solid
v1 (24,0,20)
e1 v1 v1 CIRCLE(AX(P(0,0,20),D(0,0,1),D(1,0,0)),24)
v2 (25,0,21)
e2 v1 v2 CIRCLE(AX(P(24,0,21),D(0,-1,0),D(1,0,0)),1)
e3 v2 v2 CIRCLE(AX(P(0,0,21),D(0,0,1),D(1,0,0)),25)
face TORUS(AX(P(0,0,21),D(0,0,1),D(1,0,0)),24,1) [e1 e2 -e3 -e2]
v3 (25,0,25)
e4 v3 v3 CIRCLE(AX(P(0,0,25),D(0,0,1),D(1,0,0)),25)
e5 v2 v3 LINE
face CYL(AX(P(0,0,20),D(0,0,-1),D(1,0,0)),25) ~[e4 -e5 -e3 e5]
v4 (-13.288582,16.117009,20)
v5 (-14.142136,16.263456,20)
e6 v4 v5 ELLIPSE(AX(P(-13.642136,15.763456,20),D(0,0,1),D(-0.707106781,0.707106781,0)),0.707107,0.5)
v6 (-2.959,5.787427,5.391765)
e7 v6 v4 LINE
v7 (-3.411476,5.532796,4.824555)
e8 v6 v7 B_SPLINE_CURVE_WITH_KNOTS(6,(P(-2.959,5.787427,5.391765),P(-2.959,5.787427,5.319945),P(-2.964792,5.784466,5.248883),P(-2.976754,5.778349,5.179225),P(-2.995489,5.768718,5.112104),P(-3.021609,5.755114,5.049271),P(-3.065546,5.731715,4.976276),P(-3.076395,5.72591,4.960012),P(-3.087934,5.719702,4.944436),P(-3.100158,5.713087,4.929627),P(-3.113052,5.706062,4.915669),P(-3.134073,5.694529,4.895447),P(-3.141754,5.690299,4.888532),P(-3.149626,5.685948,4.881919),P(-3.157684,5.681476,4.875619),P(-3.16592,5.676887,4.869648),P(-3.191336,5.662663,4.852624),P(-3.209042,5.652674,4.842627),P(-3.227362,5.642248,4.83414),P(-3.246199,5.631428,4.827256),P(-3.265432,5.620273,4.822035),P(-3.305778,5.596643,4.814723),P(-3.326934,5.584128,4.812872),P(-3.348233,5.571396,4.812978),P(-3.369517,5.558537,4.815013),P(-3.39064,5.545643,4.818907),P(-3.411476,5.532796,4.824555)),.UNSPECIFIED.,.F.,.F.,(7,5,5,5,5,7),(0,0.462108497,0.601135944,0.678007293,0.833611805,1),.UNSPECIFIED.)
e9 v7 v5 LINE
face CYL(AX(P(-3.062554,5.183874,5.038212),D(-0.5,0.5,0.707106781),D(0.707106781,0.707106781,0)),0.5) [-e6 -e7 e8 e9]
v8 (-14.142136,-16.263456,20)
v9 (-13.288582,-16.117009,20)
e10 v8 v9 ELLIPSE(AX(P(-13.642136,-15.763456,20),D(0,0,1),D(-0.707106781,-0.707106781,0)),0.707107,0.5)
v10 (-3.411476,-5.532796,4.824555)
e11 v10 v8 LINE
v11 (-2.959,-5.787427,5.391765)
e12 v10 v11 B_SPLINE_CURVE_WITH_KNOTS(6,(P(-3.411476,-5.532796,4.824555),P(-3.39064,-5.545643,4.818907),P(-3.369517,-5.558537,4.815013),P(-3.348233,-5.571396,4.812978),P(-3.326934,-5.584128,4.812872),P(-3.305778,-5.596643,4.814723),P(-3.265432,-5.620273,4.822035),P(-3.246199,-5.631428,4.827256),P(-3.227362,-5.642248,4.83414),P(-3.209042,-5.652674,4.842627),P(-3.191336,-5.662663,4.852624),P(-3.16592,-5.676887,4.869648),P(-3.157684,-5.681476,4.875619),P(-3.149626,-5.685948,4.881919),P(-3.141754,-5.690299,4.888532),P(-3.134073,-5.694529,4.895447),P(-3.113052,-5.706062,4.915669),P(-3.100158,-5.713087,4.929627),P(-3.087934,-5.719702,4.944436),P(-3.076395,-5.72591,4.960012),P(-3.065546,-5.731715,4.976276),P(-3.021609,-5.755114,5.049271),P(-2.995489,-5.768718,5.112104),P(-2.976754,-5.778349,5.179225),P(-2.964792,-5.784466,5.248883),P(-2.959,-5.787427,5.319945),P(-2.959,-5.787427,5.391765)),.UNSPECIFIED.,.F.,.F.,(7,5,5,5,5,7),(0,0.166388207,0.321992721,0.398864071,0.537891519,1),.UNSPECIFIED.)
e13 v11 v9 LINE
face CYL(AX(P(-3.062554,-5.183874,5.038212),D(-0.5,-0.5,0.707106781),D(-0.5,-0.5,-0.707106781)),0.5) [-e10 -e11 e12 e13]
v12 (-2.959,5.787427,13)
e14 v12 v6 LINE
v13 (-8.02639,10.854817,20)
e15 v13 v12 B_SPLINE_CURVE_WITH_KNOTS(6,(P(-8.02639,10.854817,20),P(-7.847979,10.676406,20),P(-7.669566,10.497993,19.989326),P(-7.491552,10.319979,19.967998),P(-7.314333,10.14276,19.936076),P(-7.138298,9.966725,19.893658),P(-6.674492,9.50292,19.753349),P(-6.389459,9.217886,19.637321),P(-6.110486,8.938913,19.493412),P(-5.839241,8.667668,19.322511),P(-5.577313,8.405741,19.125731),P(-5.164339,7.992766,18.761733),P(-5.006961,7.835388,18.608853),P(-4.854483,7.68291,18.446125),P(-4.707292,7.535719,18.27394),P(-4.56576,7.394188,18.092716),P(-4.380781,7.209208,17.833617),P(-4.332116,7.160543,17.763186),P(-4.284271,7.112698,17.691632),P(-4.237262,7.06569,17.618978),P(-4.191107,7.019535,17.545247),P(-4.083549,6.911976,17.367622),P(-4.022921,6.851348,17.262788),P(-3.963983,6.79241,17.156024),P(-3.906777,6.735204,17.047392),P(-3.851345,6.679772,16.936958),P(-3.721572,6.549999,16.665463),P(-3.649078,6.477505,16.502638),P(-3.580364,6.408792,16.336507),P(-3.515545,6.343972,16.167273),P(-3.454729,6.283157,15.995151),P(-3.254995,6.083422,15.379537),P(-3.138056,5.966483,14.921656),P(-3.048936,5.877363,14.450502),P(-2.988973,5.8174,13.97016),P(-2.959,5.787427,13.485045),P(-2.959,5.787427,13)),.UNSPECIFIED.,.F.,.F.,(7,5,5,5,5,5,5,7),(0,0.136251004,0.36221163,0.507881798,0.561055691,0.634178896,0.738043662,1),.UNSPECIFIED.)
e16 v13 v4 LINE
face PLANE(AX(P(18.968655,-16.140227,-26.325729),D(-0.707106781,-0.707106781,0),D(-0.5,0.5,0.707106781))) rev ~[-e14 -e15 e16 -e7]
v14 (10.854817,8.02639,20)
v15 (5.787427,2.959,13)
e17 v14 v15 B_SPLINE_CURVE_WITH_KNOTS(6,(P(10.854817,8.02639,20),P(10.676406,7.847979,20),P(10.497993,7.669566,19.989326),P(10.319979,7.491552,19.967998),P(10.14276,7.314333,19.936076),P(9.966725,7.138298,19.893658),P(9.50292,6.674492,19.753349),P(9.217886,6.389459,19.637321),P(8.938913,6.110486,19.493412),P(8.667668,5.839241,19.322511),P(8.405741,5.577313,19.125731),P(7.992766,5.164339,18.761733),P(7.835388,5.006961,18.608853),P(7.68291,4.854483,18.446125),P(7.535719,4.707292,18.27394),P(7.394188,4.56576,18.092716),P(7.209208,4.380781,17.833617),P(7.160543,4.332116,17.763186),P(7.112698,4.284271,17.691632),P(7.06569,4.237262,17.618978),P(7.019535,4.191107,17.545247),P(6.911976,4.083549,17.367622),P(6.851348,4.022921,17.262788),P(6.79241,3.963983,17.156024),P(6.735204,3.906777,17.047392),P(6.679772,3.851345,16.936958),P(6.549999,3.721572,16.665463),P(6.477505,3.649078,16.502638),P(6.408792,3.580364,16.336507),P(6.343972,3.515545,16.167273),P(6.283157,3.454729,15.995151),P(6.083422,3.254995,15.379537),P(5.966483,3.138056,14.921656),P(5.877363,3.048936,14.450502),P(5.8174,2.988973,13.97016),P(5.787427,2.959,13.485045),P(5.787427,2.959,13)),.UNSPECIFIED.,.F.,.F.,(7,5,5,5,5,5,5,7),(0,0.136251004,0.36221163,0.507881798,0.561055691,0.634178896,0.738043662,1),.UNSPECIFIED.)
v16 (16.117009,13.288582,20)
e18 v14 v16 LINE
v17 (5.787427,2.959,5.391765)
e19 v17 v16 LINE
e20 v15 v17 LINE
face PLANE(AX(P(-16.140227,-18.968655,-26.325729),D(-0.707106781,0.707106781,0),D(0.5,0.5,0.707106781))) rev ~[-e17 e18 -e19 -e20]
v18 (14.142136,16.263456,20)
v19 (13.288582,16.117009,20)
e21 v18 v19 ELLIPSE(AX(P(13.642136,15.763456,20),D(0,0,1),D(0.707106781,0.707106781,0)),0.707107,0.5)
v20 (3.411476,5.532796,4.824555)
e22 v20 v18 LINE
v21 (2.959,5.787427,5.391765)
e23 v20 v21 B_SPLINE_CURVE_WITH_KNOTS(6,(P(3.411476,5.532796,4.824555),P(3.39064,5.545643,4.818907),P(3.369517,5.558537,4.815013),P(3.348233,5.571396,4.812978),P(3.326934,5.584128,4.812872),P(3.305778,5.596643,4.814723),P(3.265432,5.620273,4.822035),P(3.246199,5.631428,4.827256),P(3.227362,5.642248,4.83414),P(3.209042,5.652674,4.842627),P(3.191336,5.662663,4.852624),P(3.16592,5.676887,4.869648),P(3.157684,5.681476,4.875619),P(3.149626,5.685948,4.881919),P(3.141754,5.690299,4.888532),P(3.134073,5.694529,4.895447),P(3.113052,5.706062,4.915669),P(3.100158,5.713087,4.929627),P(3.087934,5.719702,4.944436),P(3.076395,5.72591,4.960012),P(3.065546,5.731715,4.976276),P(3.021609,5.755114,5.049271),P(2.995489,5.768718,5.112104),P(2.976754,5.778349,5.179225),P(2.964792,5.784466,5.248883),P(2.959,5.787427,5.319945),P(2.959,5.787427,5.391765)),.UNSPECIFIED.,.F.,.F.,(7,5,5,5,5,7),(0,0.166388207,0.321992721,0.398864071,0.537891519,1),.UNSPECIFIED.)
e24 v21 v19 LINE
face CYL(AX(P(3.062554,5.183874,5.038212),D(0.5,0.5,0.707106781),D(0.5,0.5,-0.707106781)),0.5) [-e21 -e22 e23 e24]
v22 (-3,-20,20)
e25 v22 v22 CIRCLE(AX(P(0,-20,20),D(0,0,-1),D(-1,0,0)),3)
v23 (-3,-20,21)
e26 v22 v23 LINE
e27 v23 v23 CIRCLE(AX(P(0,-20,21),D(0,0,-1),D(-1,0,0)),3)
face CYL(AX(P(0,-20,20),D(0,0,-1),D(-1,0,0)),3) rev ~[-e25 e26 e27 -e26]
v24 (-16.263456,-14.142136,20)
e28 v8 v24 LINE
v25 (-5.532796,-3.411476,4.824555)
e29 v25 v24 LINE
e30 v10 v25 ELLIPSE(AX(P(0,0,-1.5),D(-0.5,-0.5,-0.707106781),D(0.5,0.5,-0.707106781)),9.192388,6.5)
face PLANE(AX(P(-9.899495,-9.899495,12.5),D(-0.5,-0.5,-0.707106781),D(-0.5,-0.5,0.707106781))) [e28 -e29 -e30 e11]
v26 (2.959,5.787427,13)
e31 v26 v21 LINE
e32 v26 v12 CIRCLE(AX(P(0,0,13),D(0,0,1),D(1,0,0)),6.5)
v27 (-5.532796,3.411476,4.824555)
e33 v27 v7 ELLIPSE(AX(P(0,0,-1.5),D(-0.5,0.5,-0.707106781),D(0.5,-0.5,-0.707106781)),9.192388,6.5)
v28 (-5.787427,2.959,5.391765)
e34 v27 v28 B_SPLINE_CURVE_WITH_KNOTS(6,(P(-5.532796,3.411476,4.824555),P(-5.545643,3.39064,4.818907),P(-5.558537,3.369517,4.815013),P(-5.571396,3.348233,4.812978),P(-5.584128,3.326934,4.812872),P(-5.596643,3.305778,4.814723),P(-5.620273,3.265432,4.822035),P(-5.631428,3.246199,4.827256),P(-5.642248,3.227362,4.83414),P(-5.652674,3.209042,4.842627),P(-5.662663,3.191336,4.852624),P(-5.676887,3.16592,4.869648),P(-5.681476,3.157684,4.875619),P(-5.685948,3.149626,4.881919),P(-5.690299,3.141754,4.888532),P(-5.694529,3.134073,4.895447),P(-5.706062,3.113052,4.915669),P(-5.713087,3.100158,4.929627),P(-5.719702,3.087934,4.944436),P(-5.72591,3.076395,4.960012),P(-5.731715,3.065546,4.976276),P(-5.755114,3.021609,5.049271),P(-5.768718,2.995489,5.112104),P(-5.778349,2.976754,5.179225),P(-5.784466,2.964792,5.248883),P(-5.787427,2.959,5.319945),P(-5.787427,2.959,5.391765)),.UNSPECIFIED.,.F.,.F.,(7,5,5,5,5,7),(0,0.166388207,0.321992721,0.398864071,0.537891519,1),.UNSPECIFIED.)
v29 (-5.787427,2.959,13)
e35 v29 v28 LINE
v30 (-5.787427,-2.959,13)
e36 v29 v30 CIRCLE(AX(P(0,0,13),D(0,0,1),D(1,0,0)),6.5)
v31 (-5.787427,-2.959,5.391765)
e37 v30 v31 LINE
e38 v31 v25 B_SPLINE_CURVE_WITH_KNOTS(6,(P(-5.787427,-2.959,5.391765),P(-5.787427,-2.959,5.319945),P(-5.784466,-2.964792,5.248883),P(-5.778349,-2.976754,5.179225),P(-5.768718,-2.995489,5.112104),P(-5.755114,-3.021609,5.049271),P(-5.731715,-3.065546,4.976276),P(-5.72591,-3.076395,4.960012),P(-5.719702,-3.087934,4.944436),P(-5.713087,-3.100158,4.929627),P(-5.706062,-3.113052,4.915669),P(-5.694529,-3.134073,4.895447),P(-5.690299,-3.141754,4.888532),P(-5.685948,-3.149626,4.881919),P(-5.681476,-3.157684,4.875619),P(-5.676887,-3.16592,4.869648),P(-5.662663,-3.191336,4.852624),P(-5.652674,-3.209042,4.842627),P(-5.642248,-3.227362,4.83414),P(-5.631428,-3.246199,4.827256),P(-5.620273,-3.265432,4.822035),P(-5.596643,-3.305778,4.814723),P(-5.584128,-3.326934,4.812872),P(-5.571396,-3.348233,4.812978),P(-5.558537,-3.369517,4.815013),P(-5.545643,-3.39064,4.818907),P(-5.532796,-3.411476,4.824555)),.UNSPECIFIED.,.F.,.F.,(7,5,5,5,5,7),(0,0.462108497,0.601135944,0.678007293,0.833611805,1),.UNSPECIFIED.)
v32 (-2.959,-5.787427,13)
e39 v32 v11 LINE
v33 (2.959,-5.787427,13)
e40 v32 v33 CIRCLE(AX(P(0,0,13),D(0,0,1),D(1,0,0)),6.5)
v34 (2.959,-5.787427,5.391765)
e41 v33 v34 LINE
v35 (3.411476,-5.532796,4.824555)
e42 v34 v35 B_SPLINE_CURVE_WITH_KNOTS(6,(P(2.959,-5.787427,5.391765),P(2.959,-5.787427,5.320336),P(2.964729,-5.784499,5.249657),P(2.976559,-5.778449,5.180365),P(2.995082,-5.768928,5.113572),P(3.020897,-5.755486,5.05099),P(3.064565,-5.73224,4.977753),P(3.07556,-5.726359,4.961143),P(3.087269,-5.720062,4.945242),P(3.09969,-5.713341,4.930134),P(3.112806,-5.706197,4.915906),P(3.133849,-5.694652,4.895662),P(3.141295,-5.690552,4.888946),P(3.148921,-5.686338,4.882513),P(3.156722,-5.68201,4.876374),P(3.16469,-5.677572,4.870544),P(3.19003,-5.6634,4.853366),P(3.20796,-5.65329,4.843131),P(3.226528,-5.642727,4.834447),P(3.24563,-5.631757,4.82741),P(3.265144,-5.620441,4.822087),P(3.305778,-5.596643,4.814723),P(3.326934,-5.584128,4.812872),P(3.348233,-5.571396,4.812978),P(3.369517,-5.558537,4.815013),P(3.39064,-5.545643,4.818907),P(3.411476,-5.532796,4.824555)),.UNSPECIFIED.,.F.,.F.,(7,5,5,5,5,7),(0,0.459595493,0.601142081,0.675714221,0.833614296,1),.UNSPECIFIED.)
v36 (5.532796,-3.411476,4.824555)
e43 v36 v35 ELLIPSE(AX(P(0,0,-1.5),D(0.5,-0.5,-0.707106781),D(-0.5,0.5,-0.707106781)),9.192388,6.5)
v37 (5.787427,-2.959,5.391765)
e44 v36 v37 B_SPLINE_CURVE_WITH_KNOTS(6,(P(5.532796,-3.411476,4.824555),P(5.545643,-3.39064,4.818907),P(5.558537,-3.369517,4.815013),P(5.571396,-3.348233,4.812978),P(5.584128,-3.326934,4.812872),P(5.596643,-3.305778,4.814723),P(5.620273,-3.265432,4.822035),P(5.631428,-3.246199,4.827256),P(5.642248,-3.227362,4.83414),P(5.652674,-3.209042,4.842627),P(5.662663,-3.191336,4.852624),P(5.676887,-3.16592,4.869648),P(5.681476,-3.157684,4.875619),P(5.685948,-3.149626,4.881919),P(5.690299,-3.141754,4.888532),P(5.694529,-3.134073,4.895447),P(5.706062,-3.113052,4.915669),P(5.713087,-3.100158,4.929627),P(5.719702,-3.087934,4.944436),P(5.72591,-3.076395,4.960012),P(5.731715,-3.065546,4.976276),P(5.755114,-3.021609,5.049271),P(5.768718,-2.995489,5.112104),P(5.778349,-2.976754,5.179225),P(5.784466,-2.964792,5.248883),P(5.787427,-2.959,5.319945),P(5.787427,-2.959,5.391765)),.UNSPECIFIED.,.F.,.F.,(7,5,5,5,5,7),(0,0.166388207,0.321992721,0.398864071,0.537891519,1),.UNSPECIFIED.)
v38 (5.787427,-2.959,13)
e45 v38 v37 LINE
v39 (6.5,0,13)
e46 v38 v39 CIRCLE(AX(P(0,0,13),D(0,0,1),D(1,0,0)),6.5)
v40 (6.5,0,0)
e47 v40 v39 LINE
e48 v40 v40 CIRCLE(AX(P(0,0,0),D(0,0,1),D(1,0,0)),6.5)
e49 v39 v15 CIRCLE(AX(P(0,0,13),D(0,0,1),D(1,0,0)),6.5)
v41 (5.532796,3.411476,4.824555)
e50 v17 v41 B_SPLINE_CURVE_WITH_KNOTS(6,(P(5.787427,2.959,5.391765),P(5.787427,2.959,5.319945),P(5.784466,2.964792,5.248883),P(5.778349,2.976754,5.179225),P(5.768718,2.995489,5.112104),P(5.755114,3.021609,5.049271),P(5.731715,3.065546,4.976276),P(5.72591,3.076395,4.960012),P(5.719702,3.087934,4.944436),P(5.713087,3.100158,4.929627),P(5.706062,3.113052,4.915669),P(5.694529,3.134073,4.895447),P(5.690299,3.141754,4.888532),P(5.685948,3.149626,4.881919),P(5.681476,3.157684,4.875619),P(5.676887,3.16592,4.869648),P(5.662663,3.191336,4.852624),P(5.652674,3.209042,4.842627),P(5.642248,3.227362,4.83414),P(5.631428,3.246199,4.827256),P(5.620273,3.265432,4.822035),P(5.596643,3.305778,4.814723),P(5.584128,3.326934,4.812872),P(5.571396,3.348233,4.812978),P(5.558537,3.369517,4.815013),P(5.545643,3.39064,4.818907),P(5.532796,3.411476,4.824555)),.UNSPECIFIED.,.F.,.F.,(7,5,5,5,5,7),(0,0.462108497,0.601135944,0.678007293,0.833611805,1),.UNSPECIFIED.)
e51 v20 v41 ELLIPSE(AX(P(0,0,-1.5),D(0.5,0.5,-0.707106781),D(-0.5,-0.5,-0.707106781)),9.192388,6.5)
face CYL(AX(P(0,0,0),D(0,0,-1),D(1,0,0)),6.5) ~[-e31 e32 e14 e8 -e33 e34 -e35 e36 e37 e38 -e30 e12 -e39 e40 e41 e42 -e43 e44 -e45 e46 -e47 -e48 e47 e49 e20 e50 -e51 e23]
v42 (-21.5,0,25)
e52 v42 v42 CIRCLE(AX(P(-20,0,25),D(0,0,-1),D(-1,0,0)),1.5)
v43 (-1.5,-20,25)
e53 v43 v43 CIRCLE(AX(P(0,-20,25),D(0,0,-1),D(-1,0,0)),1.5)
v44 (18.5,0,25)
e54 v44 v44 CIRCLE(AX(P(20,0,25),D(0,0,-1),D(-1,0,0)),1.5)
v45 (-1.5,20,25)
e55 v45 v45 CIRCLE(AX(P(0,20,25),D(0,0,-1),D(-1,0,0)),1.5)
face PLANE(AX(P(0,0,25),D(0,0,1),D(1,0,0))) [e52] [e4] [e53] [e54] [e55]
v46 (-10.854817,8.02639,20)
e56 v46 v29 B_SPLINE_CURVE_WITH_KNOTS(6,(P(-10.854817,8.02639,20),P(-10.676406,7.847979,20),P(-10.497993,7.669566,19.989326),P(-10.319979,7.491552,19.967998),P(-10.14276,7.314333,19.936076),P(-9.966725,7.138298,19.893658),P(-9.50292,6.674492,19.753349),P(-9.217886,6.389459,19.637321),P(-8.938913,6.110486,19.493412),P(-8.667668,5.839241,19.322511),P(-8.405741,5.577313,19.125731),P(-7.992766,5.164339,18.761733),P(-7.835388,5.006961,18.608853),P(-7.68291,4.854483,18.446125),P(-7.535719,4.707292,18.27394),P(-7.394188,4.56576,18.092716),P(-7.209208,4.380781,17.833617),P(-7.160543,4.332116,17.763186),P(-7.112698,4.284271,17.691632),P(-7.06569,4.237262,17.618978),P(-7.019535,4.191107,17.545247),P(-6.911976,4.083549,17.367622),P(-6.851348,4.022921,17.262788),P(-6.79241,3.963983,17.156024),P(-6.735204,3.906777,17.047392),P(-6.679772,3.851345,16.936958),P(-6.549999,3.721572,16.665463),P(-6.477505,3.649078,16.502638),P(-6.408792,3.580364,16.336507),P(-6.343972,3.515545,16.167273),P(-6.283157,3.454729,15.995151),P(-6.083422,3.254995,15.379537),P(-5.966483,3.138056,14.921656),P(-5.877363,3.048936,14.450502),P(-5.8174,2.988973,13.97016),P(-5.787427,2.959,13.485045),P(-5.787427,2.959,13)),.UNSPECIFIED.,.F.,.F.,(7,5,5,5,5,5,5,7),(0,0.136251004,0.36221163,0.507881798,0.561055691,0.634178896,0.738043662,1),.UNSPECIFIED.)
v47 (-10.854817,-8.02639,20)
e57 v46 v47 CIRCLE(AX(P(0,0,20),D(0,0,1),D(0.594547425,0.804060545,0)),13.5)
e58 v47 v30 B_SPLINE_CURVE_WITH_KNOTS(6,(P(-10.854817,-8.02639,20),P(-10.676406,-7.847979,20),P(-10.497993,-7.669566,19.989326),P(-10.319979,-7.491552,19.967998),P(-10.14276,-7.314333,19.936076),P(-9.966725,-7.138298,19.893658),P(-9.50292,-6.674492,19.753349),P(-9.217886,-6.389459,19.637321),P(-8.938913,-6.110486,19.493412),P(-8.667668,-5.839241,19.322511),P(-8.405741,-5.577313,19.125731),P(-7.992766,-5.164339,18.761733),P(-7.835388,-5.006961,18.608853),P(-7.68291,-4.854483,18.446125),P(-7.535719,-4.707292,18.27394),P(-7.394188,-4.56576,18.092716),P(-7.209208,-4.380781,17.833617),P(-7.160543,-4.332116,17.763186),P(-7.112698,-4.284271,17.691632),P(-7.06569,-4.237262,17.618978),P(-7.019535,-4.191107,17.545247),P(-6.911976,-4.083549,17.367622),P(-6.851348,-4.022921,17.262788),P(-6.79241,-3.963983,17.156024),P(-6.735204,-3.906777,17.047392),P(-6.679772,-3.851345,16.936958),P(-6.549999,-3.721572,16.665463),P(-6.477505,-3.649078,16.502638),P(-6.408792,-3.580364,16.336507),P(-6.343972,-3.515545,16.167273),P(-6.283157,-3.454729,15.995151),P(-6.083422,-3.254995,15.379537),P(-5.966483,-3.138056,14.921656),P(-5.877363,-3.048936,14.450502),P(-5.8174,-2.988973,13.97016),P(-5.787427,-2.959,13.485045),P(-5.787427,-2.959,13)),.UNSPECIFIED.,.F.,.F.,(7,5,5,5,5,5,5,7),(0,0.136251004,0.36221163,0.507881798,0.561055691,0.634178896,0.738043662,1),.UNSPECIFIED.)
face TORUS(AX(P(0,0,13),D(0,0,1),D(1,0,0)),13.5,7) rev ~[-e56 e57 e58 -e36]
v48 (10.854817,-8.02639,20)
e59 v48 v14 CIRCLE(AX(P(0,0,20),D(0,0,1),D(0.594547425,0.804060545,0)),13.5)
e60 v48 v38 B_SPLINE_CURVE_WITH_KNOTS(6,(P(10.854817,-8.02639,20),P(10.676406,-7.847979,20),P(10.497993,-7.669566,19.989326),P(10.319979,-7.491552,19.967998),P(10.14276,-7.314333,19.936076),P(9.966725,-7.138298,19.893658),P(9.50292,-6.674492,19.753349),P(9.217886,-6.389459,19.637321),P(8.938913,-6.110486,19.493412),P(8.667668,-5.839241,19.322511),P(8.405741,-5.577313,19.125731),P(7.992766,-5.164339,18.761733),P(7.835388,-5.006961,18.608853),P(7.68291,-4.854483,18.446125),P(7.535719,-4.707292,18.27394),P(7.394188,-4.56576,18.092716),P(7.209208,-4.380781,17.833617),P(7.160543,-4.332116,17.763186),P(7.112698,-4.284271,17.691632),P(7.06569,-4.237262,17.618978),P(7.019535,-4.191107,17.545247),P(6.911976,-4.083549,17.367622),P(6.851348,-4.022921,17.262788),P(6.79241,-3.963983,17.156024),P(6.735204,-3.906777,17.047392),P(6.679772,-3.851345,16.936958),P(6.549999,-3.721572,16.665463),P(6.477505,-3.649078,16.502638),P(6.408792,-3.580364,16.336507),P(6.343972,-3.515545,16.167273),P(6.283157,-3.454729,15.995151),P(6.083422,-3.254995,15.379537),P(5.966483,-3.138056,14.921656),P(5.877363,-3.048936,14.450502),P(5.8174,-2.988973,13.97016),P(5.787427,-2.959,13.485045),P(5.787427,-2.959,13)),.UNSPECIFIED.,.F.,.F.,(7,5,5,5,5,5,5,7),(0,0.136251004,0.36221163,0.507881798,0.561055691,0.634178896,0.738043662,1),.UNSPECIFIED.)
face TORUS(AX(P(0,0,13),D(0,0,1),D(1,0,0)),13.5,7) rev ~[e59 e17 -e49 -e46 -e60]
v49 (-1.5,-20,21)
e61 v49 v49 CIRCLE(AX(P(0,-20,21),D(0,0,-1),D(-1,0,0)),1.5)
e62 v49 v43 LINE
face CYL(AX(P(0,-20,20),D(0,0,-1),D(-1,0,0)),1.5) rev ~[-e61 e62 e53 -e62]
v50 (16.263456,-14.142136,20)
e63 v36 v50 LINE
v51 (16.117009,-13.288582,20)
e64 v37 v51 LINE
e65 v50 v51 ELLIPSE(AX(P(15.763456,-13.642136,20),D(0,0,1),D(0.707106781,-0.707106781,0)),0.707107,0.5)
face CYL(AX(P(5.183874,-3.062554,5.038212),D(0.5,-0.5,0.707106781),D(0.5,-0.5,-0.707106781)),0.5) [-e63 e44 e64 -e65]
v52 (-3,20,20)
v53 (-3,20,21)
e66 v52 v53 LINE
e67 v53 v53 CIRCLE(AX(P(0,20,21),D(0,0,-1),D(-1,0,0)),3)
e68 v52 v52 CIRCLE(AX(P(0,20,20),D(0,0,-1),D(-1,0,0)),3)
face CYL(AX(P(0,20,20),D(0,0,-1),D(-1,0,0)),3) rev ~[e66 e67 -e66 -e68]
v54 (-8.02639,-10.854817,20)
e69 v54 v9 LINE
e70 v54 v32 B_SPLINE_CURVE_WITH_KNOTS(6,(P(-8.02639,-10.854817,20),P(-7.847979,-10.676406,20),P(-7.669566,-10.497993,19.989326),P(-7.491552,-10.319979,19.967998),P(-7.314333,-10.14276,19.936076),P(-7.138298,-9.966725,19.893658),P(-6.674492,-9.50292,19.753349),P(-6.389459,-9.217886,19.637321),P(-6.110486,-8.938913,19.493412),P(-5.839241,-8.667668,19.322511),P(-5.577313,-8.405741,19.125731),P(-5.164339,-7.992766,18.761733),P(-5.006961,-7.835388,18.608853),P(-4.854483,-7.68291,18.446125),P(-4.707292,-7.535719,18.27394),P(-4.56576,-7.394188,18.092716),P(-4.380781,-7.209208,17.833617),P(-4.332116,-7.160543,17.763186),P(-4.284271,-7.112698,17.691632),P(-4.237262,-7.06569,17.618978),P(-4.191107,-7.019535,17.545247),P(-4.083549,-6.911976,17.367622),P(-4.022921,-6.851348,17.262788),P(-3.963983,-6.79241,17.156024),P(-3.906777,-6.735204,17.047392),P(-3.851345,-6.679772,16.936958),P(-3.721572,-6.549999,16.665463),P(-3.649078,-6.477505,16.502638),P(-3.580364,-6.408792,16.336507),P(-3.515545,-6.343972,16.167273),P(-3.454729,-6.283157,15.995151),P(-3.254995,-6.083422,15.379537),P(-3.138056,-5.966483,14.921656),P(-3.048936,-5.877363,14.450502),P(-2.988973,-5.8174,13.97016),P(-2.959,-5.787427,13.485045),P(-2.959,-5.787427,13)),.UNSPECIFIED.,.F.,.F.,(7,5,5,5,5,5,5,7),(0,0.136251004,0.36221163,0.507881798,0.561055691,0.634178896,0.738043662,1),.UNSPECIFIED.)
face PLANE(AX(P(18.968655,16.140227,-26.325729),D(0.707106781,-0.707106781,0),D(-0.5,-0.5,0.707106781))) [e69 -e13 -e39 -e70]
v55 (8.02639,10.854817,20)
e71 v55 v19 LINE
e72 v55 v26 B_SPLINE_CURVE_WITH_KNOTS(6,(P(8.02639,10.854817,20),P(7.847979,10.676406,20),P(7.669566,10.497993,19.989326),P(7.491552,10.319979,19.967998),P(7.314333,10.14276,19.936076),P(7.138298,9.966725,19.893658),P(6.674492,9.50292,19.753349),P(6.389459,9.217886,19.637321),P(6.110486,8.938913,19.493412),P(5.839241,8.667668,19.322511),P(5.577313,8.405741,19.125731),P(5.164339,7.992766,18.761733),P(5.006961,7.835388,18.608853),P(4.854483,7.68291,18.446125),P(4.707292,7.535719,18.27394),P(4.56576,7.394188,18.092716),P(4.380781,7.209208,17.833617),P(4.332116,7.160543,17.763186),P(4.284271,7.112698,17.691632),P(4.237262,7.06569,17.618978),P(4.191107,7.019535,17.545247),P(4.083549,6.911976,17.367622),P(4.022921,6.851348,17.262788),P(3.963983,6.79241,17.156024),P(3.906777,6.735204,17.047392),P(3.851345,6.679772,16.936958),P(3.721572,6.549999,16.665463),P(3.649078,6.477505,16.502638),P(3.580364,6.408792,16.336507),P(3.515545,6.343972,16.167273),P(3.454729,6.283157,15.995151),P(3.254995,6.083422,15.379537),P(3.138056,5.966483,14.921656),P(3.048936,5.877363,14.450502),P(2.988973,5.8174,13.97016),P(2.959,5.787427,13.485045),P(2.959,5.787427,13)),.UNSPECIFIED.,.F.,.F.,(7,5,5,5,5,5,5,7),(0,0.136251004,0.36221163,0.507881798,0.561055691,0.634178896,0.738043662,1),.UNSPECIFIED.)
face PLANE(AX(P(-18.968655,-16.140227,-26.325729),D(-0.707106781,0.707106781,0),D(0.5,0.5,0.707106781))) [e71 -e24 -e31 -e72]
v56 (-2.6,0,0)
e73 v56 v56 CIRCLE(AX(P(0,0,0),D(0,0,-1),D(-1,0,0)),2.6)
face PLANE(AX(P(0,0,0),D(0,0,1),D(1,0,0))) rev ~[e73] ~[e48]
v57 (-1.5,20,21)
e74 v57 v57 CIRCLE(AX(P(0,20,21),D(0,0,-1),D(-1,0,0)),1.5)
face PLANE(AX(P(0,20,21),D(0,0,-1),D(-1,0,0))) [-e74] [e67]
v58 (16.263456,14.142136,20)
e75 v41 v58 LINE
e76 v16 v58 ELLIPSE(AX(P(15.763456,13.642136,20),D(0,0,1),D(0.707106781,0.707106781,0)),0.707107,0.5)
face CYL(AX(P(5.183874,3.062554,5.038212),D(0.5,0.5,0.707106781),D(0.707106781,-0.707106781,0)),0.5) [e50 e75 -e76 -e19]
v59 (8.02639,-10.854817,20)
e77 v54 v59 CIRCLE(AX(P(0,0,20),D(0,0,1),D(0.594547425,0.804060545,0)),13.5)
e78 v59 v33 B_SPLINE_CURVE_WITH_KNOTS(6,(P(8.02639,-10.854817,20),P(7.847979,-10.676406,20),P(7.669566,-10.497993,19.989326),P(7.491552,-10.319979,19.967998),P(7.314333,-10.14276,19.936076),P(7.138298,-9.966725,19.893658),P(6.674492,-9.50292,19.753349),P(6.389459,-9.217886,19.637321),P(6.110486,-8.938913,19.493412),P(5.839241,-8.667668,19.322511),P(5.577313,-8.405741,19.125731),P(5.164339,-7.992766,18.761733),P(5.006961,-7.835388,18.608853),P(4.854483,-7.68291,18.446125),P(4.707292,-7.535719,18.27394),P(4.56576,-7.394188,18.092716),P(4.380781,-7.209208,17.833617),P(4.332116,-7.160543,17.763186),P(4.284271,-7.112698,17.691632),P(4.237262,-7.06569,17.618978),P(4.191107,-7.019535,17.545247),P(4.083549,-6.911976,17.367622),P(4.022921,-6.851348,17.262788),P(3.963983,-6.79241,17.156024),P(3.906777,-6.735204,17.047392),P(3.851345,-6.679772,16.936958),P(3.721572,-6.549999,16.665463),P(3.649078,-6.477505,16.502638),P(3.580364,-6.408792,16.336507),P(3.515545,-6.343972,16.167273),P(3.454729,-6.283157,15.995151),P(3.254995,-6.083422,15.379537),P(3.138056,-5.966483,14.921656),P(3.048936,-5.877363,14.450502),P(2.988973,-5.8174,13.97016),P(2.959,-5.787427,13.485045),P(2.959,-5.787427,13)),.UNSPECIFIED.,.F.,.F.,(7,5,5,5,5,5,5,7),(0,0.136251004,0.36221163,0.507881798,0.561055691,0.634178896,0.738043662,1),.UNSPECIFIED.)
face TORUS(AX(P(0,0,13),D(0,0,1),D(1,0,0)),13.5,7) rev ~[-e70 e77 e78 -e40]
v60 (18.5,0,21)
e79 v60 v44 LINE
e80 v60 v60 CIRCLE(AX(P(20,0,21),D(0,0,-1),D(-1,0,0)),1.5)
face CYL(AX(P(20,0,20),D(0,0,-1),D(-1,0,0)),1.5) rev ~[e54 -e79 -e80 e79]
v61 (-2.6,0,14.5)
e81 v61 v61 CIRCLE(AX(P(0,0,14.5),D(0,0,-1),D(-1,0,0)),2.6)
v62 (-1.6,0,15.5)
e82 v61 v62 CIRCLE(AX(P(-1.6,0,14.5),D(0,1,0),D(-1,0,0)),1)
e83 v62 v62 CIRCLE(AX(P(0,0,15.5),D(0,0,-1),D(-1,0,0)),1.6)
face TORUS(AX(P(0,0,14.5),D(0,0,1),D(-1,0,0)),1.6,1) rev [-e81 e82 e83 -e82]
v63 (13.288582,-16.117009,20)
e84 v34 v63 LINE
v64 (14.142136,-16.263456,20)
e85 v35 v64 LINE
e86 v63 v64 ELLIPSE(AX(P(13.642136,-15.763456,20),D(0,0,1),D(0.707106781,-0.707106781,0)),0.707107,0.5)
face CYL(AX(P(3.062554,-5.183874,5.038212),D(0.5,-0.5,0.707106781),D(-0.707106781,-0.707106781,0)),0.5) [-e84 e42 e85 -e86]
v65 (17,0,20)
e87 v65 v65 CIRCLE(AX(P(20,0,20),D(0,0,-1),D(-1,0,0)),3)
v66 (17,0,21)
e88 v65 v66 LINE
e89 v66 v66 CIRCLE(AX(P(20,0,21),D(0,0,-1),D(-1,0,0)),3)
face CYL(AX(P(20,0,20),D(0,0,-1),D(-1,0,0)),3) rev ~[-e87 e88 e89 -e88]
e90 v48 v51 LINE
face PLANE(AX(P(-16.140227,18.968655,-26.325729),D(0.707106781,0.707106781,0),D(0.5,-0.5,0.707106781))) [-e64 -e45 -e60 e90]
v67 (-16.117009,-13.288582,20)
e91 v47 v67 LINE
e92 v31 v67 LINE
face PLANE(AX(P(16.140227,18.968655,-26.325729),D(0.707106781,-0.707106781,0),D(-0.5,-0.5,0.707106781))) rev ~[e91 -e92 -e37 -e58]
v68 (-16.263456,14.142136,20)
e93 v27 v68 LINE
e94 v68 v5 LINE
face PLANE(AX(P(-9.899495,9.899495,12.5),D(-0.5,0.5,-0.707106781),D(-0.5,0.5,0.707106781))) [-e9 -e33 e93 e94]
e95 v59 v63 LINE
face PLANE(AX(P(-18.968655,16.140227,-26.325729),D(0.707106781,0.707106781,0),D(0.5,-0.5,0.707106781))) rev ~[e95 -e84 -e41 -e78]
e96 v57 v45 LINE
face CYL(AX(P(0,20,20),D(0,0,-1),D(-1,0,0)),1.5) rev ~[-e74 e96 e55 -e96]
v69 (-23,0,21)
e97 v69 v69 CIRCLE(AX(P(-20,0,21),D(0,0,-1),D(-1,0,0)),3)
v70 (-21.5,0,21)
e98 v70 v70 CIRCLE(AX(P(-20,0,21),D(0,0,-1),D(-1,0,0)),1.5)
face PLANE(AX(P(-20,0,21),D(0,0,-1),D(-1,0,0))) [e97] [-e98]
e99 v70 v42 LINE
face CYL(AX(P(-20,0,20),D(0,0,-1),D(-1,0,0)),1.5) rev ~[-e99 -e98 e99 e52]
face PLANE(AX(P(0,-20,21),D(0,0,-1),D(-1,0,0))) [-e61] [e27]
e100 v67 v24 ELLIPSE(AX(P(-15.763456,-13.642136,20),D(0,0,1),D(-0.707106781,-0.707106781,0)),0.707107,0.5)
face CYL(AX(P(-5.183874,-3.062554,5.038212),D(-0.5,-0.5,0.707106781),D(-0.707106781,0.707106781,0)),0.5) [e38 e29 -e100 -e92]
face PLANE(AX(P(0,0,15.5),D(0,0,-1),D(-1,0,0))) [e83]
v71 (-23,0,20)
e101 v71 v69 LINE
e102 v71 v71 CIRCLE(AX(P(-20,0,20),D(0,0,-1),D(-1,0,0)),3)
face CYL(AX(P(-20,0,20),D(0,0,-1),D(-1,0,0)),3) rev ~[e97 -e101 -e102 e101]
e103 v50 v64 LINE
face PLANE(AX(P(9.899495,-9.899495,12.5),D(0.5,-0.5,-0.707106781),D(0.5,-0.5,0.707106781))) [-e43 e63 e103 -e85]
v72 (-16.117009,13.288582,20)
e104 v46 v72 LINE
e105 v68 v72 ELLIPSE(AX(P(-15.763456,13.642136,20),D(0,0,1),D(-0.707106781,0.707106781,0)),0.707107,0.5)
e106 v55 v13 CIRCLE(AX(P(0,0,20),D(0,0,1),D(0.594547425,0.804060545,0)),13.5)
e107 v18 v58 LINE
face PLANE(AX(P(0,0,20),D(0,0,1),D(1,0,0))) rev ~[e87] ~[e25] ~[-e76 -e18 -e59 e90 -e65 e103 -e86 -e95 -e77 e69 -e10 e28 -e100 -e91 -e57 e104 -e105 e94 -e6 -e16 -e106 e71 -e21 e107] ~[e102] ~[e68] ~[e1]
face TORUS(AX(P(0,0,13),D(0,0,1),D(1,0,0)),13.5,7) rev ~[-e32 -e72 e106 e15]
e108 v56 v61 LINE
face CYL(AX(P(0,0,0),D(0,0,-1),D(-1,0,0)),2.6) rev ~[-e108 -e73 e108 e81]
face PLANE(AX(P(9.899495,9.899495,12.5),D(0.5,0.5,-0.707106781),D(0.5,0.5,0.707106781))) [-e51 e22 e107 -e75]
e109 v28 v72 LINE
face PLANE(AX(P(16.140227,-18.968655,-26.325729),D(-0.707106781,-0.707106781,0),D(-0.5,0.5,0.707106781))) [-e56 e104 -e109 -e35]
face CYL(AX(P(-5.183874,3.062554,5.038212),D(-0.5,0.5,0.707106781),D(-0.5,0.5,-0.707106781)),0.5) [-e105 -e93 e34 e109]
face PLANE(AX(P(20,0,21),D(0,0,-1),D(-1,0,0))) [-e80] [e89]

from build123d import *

# Parameters (mm, degrees)
SKETCH1_R           = 6.5
BOSS_EXTRUDE1_DEPTH = 20
SKETCH4_R           = 2.6
CUT_EXTRUDE1_DEPTH  = 15.5
FILLET1_R           = 1
SKETCH5_R           = 25
BOSS_EXTRUDE2_DEPTH = 5
CUT_EXTRUDE2_REACH  = 42.62
SKETCH6_R           = 1.5
FILLET2_R           = 7
RIB10_REACH         = 45.301
SKETCH12_WALL_W     = 109.815743814
SKETCH12_WALL_H     = 4
CIRPATTERN1_COUNT   = 4
FILLET3_R           = 1
FILLET4_R           = 0.5
SKETCH13_R          = 3
CUT_EXTRUDE3_DEPTH  = 1


with BuildPart() as part:
    # Sketch1 → Boss-Extrude1 (new body)
    with BuildSketch(Plane.XY):
        Circle(SKETCH1_R)
    extrude(amount=BOSS_EXTRUDE1_DEPTH)

    # Sketch4 → Cut-Extrude1 (cut)
    with BuildSketch(Plane(origin=(0, 0, 0), x_dir=(-1, 0, 0), z_dir=(0, 0, -1))):
        Circle(SKETCH4_R)
    extrude(amount=-CUT_EXTRUDE1_DEPTH, mode=Mode.SUBTRACT)

    # Fillet1
    fillet1_edges = [part.edges().sort_by_distance(p)[0] for p in [
        (2.6, 0, 15.5),
    ]]
    fillet(fillet1_edges, radius=FILLET1_R)

    # Sketch5 → Boss-Extrude2 (add)
    with BuildSketch(Plane.XY.offset(20)):
        Circle(SKETCH5_R)
    extrude(amount=BOSS_EXTRUDE2_DEPTH)

    # Sketch6 → Cut-Extrude2 (cut, up to next)
    with BuildSketch(Plane(origin=(0, 0, 20), x_dir=(-1, 0, 0), z_dir=(0, 0, -1)), mode=Mode.PRIVATE) as cut_extrude2_sk1:
        with Locations((0, 20)):
            Circle(SKETCH6_R)
    cut_extrude2_tool1 = extrude(cut_extrude2_sk1.sketch, amount=-CUT_EXTRUDE2_REACH, mode=Mode.PRIVATE) & part.part
    # Sketch6 → Cut-Extrude2 (cut, up to next)
    with BuildSketch(Plane(origin=(0, 0, 20), x_dir=(-1, 0, 0), z_dir=(0, 0, -1)), mode=Mode.PRIVATE) as cut_extrude2_sk2:
        with Locations((0, -20)):
            Circle(SKETCH6_R)
    cut_extrude2_tool2 = extrude(cut_extrude2_sk2.sketch, amount=-CUT_EXTRUDE2_REACH, mode=Mode.PRIVATE) & part.part
    # Sketch6 → Cut-Extrude2 (cut, up to next)
    with BuildSketch(Plane(origin=(0, 0, 20), x_dir=(-1, 0, 0), z_dir=(0, 0, -1)), mode=Mode.PRIVATE) as cut_extrude2_sk3:
        with Locations((-20, 0)):
            Circle(SKETCH6_R)
    cut_extrude2_tool3 = extrude(cut_extrude2_sk3.sketch, amount=-CUT_EXTRUDE2_REACH, mode=Mode.PRIVATE) & part.part
    # Sketch6 → Cut-Extrude2 (cut, up to next)
    with BuildSketch(Plane(origin=(0, 0, 20), x_dir=(-1, 0, 0), z_dir=(0, 0, -1)), mode=Mode.PRIVATE) as cut_extrude2_sk4:
        with Locations((20, 0)):
            Circle(SKETCH6_R)
    cut_extrude2_tool4 = extrude(cut_extrude2_sk4.sketch, amount=-CUT_EXTRUDE2_REACH, mode=Mode.PRIVATE) & part.part
    add(cut_extrude2_tool1.solids().sort_by_distance((0, 20, 20))[0], mode=Mode.SUBTRACT)
    add(cut_extrude2_tool2.solids().sort_by_distance((0, -20, 20))[0], mode=Mode.SUBTRACT)
    add(cut_extrude2_tool3.solids().sort_by_distance((20, 0, 20))[0], mode=Mode.SUBTRACT)
    add(cut_extrude2_tool4.solids().sort_by_distance((-20, 0, 20))[0], mode=Mode.SUBTRACT)

    # Fillet2
    fillet2_edges = [part.edges().sort_by_distance(p)[0] for p in [
        (-6.5, 0, 20),
    ]]
    fillet(fillet2_edges, radius=FILLET2_R)

    # Sketch12 wall → Rib10 (add, up to next)
    with BuildSketch(Plane(origin=(9.899494937, 9.899494937, 12.5), x_dir=(0.500000000005, 0.500000000005, 0.70710678118), z_dir=(0.499999999995, 0.499999999995, -0.707106781193)), mode=Mode.PRIVATE) as rib10_sk1:
        Rectangle(SKETCH12_WALL_W, SKETCH12_WALL_H)
    rib10_tool1 = extrude(rib10_sk1.sketch, amount=-RIB10_REACH, mode=Mode.PRIVATE) - part.part
    rib10 = rib10_tool1.solids().sort_by_distance((9.899494937, 9.899494937, 12.5))[0]
    add(rib10)

    # CirPattern1: Rib10 ×4 about axis
    cirpattern1_axis = Axis((0, 0, 0), (0, 0, 1))
    for i in range(1, CIRPATTERN1_COUNT):
        add(rib10.rotate(cirpattern1_axis, i * 360 / CIRPATTERN1_COUNT))

    # Fillet3
    fillet3_edges = [part.edges().sort_by_distance(p)[0] for p in [
        (-25, 0, 20),
    ]]
    fillet(fillet3_edges, radius=FILLET3_R)

    # Fillet4
    fillet4_edges = [part.edges().sort_by_distance(p)[0] for p in [
        (8.373791296, -11.202218421, 12.342329219),
        (11.202218421, -8.373791296, 12.342329219),
        (-8.373791296, -11.202218421, 12.342329219),
        (-11.202218421, -8.373791296, 12.342329219),
        (11.202218421, 8.373791296, 12.342329219),
        (8.373791296, 11.202218421, 12.342329219),
        (-11.202218421, 8.373791296, 12.342329219),
        (-8.373791296, 11.202218421, 12.342329219),
    ]]
    fillet(fillet4_edges, radius=FILLET4_R)

    # Sketch13 → Cut-Extrude3 (cut)
    with BuildSketch(Plane(origin=(0, 0, 20), x_dir=(-1, 0, 0), z_dir=(0, 0, -1))):
        with Locations((-20, 0)):
            Circle(SKETCH13_R)
        with Locations((0, 20)):
            Circle(SKETCH13_R)
        with Locations((20, 0)):
            Circle(SKETCH13_R)
        with Locations((0, -20)):
            Circle(SKETCH13_R)
    extrude(amount=-CUT_EXTRUDE3_DEPTH, mode=Mode.SUBTRACT)


solid = part.part
